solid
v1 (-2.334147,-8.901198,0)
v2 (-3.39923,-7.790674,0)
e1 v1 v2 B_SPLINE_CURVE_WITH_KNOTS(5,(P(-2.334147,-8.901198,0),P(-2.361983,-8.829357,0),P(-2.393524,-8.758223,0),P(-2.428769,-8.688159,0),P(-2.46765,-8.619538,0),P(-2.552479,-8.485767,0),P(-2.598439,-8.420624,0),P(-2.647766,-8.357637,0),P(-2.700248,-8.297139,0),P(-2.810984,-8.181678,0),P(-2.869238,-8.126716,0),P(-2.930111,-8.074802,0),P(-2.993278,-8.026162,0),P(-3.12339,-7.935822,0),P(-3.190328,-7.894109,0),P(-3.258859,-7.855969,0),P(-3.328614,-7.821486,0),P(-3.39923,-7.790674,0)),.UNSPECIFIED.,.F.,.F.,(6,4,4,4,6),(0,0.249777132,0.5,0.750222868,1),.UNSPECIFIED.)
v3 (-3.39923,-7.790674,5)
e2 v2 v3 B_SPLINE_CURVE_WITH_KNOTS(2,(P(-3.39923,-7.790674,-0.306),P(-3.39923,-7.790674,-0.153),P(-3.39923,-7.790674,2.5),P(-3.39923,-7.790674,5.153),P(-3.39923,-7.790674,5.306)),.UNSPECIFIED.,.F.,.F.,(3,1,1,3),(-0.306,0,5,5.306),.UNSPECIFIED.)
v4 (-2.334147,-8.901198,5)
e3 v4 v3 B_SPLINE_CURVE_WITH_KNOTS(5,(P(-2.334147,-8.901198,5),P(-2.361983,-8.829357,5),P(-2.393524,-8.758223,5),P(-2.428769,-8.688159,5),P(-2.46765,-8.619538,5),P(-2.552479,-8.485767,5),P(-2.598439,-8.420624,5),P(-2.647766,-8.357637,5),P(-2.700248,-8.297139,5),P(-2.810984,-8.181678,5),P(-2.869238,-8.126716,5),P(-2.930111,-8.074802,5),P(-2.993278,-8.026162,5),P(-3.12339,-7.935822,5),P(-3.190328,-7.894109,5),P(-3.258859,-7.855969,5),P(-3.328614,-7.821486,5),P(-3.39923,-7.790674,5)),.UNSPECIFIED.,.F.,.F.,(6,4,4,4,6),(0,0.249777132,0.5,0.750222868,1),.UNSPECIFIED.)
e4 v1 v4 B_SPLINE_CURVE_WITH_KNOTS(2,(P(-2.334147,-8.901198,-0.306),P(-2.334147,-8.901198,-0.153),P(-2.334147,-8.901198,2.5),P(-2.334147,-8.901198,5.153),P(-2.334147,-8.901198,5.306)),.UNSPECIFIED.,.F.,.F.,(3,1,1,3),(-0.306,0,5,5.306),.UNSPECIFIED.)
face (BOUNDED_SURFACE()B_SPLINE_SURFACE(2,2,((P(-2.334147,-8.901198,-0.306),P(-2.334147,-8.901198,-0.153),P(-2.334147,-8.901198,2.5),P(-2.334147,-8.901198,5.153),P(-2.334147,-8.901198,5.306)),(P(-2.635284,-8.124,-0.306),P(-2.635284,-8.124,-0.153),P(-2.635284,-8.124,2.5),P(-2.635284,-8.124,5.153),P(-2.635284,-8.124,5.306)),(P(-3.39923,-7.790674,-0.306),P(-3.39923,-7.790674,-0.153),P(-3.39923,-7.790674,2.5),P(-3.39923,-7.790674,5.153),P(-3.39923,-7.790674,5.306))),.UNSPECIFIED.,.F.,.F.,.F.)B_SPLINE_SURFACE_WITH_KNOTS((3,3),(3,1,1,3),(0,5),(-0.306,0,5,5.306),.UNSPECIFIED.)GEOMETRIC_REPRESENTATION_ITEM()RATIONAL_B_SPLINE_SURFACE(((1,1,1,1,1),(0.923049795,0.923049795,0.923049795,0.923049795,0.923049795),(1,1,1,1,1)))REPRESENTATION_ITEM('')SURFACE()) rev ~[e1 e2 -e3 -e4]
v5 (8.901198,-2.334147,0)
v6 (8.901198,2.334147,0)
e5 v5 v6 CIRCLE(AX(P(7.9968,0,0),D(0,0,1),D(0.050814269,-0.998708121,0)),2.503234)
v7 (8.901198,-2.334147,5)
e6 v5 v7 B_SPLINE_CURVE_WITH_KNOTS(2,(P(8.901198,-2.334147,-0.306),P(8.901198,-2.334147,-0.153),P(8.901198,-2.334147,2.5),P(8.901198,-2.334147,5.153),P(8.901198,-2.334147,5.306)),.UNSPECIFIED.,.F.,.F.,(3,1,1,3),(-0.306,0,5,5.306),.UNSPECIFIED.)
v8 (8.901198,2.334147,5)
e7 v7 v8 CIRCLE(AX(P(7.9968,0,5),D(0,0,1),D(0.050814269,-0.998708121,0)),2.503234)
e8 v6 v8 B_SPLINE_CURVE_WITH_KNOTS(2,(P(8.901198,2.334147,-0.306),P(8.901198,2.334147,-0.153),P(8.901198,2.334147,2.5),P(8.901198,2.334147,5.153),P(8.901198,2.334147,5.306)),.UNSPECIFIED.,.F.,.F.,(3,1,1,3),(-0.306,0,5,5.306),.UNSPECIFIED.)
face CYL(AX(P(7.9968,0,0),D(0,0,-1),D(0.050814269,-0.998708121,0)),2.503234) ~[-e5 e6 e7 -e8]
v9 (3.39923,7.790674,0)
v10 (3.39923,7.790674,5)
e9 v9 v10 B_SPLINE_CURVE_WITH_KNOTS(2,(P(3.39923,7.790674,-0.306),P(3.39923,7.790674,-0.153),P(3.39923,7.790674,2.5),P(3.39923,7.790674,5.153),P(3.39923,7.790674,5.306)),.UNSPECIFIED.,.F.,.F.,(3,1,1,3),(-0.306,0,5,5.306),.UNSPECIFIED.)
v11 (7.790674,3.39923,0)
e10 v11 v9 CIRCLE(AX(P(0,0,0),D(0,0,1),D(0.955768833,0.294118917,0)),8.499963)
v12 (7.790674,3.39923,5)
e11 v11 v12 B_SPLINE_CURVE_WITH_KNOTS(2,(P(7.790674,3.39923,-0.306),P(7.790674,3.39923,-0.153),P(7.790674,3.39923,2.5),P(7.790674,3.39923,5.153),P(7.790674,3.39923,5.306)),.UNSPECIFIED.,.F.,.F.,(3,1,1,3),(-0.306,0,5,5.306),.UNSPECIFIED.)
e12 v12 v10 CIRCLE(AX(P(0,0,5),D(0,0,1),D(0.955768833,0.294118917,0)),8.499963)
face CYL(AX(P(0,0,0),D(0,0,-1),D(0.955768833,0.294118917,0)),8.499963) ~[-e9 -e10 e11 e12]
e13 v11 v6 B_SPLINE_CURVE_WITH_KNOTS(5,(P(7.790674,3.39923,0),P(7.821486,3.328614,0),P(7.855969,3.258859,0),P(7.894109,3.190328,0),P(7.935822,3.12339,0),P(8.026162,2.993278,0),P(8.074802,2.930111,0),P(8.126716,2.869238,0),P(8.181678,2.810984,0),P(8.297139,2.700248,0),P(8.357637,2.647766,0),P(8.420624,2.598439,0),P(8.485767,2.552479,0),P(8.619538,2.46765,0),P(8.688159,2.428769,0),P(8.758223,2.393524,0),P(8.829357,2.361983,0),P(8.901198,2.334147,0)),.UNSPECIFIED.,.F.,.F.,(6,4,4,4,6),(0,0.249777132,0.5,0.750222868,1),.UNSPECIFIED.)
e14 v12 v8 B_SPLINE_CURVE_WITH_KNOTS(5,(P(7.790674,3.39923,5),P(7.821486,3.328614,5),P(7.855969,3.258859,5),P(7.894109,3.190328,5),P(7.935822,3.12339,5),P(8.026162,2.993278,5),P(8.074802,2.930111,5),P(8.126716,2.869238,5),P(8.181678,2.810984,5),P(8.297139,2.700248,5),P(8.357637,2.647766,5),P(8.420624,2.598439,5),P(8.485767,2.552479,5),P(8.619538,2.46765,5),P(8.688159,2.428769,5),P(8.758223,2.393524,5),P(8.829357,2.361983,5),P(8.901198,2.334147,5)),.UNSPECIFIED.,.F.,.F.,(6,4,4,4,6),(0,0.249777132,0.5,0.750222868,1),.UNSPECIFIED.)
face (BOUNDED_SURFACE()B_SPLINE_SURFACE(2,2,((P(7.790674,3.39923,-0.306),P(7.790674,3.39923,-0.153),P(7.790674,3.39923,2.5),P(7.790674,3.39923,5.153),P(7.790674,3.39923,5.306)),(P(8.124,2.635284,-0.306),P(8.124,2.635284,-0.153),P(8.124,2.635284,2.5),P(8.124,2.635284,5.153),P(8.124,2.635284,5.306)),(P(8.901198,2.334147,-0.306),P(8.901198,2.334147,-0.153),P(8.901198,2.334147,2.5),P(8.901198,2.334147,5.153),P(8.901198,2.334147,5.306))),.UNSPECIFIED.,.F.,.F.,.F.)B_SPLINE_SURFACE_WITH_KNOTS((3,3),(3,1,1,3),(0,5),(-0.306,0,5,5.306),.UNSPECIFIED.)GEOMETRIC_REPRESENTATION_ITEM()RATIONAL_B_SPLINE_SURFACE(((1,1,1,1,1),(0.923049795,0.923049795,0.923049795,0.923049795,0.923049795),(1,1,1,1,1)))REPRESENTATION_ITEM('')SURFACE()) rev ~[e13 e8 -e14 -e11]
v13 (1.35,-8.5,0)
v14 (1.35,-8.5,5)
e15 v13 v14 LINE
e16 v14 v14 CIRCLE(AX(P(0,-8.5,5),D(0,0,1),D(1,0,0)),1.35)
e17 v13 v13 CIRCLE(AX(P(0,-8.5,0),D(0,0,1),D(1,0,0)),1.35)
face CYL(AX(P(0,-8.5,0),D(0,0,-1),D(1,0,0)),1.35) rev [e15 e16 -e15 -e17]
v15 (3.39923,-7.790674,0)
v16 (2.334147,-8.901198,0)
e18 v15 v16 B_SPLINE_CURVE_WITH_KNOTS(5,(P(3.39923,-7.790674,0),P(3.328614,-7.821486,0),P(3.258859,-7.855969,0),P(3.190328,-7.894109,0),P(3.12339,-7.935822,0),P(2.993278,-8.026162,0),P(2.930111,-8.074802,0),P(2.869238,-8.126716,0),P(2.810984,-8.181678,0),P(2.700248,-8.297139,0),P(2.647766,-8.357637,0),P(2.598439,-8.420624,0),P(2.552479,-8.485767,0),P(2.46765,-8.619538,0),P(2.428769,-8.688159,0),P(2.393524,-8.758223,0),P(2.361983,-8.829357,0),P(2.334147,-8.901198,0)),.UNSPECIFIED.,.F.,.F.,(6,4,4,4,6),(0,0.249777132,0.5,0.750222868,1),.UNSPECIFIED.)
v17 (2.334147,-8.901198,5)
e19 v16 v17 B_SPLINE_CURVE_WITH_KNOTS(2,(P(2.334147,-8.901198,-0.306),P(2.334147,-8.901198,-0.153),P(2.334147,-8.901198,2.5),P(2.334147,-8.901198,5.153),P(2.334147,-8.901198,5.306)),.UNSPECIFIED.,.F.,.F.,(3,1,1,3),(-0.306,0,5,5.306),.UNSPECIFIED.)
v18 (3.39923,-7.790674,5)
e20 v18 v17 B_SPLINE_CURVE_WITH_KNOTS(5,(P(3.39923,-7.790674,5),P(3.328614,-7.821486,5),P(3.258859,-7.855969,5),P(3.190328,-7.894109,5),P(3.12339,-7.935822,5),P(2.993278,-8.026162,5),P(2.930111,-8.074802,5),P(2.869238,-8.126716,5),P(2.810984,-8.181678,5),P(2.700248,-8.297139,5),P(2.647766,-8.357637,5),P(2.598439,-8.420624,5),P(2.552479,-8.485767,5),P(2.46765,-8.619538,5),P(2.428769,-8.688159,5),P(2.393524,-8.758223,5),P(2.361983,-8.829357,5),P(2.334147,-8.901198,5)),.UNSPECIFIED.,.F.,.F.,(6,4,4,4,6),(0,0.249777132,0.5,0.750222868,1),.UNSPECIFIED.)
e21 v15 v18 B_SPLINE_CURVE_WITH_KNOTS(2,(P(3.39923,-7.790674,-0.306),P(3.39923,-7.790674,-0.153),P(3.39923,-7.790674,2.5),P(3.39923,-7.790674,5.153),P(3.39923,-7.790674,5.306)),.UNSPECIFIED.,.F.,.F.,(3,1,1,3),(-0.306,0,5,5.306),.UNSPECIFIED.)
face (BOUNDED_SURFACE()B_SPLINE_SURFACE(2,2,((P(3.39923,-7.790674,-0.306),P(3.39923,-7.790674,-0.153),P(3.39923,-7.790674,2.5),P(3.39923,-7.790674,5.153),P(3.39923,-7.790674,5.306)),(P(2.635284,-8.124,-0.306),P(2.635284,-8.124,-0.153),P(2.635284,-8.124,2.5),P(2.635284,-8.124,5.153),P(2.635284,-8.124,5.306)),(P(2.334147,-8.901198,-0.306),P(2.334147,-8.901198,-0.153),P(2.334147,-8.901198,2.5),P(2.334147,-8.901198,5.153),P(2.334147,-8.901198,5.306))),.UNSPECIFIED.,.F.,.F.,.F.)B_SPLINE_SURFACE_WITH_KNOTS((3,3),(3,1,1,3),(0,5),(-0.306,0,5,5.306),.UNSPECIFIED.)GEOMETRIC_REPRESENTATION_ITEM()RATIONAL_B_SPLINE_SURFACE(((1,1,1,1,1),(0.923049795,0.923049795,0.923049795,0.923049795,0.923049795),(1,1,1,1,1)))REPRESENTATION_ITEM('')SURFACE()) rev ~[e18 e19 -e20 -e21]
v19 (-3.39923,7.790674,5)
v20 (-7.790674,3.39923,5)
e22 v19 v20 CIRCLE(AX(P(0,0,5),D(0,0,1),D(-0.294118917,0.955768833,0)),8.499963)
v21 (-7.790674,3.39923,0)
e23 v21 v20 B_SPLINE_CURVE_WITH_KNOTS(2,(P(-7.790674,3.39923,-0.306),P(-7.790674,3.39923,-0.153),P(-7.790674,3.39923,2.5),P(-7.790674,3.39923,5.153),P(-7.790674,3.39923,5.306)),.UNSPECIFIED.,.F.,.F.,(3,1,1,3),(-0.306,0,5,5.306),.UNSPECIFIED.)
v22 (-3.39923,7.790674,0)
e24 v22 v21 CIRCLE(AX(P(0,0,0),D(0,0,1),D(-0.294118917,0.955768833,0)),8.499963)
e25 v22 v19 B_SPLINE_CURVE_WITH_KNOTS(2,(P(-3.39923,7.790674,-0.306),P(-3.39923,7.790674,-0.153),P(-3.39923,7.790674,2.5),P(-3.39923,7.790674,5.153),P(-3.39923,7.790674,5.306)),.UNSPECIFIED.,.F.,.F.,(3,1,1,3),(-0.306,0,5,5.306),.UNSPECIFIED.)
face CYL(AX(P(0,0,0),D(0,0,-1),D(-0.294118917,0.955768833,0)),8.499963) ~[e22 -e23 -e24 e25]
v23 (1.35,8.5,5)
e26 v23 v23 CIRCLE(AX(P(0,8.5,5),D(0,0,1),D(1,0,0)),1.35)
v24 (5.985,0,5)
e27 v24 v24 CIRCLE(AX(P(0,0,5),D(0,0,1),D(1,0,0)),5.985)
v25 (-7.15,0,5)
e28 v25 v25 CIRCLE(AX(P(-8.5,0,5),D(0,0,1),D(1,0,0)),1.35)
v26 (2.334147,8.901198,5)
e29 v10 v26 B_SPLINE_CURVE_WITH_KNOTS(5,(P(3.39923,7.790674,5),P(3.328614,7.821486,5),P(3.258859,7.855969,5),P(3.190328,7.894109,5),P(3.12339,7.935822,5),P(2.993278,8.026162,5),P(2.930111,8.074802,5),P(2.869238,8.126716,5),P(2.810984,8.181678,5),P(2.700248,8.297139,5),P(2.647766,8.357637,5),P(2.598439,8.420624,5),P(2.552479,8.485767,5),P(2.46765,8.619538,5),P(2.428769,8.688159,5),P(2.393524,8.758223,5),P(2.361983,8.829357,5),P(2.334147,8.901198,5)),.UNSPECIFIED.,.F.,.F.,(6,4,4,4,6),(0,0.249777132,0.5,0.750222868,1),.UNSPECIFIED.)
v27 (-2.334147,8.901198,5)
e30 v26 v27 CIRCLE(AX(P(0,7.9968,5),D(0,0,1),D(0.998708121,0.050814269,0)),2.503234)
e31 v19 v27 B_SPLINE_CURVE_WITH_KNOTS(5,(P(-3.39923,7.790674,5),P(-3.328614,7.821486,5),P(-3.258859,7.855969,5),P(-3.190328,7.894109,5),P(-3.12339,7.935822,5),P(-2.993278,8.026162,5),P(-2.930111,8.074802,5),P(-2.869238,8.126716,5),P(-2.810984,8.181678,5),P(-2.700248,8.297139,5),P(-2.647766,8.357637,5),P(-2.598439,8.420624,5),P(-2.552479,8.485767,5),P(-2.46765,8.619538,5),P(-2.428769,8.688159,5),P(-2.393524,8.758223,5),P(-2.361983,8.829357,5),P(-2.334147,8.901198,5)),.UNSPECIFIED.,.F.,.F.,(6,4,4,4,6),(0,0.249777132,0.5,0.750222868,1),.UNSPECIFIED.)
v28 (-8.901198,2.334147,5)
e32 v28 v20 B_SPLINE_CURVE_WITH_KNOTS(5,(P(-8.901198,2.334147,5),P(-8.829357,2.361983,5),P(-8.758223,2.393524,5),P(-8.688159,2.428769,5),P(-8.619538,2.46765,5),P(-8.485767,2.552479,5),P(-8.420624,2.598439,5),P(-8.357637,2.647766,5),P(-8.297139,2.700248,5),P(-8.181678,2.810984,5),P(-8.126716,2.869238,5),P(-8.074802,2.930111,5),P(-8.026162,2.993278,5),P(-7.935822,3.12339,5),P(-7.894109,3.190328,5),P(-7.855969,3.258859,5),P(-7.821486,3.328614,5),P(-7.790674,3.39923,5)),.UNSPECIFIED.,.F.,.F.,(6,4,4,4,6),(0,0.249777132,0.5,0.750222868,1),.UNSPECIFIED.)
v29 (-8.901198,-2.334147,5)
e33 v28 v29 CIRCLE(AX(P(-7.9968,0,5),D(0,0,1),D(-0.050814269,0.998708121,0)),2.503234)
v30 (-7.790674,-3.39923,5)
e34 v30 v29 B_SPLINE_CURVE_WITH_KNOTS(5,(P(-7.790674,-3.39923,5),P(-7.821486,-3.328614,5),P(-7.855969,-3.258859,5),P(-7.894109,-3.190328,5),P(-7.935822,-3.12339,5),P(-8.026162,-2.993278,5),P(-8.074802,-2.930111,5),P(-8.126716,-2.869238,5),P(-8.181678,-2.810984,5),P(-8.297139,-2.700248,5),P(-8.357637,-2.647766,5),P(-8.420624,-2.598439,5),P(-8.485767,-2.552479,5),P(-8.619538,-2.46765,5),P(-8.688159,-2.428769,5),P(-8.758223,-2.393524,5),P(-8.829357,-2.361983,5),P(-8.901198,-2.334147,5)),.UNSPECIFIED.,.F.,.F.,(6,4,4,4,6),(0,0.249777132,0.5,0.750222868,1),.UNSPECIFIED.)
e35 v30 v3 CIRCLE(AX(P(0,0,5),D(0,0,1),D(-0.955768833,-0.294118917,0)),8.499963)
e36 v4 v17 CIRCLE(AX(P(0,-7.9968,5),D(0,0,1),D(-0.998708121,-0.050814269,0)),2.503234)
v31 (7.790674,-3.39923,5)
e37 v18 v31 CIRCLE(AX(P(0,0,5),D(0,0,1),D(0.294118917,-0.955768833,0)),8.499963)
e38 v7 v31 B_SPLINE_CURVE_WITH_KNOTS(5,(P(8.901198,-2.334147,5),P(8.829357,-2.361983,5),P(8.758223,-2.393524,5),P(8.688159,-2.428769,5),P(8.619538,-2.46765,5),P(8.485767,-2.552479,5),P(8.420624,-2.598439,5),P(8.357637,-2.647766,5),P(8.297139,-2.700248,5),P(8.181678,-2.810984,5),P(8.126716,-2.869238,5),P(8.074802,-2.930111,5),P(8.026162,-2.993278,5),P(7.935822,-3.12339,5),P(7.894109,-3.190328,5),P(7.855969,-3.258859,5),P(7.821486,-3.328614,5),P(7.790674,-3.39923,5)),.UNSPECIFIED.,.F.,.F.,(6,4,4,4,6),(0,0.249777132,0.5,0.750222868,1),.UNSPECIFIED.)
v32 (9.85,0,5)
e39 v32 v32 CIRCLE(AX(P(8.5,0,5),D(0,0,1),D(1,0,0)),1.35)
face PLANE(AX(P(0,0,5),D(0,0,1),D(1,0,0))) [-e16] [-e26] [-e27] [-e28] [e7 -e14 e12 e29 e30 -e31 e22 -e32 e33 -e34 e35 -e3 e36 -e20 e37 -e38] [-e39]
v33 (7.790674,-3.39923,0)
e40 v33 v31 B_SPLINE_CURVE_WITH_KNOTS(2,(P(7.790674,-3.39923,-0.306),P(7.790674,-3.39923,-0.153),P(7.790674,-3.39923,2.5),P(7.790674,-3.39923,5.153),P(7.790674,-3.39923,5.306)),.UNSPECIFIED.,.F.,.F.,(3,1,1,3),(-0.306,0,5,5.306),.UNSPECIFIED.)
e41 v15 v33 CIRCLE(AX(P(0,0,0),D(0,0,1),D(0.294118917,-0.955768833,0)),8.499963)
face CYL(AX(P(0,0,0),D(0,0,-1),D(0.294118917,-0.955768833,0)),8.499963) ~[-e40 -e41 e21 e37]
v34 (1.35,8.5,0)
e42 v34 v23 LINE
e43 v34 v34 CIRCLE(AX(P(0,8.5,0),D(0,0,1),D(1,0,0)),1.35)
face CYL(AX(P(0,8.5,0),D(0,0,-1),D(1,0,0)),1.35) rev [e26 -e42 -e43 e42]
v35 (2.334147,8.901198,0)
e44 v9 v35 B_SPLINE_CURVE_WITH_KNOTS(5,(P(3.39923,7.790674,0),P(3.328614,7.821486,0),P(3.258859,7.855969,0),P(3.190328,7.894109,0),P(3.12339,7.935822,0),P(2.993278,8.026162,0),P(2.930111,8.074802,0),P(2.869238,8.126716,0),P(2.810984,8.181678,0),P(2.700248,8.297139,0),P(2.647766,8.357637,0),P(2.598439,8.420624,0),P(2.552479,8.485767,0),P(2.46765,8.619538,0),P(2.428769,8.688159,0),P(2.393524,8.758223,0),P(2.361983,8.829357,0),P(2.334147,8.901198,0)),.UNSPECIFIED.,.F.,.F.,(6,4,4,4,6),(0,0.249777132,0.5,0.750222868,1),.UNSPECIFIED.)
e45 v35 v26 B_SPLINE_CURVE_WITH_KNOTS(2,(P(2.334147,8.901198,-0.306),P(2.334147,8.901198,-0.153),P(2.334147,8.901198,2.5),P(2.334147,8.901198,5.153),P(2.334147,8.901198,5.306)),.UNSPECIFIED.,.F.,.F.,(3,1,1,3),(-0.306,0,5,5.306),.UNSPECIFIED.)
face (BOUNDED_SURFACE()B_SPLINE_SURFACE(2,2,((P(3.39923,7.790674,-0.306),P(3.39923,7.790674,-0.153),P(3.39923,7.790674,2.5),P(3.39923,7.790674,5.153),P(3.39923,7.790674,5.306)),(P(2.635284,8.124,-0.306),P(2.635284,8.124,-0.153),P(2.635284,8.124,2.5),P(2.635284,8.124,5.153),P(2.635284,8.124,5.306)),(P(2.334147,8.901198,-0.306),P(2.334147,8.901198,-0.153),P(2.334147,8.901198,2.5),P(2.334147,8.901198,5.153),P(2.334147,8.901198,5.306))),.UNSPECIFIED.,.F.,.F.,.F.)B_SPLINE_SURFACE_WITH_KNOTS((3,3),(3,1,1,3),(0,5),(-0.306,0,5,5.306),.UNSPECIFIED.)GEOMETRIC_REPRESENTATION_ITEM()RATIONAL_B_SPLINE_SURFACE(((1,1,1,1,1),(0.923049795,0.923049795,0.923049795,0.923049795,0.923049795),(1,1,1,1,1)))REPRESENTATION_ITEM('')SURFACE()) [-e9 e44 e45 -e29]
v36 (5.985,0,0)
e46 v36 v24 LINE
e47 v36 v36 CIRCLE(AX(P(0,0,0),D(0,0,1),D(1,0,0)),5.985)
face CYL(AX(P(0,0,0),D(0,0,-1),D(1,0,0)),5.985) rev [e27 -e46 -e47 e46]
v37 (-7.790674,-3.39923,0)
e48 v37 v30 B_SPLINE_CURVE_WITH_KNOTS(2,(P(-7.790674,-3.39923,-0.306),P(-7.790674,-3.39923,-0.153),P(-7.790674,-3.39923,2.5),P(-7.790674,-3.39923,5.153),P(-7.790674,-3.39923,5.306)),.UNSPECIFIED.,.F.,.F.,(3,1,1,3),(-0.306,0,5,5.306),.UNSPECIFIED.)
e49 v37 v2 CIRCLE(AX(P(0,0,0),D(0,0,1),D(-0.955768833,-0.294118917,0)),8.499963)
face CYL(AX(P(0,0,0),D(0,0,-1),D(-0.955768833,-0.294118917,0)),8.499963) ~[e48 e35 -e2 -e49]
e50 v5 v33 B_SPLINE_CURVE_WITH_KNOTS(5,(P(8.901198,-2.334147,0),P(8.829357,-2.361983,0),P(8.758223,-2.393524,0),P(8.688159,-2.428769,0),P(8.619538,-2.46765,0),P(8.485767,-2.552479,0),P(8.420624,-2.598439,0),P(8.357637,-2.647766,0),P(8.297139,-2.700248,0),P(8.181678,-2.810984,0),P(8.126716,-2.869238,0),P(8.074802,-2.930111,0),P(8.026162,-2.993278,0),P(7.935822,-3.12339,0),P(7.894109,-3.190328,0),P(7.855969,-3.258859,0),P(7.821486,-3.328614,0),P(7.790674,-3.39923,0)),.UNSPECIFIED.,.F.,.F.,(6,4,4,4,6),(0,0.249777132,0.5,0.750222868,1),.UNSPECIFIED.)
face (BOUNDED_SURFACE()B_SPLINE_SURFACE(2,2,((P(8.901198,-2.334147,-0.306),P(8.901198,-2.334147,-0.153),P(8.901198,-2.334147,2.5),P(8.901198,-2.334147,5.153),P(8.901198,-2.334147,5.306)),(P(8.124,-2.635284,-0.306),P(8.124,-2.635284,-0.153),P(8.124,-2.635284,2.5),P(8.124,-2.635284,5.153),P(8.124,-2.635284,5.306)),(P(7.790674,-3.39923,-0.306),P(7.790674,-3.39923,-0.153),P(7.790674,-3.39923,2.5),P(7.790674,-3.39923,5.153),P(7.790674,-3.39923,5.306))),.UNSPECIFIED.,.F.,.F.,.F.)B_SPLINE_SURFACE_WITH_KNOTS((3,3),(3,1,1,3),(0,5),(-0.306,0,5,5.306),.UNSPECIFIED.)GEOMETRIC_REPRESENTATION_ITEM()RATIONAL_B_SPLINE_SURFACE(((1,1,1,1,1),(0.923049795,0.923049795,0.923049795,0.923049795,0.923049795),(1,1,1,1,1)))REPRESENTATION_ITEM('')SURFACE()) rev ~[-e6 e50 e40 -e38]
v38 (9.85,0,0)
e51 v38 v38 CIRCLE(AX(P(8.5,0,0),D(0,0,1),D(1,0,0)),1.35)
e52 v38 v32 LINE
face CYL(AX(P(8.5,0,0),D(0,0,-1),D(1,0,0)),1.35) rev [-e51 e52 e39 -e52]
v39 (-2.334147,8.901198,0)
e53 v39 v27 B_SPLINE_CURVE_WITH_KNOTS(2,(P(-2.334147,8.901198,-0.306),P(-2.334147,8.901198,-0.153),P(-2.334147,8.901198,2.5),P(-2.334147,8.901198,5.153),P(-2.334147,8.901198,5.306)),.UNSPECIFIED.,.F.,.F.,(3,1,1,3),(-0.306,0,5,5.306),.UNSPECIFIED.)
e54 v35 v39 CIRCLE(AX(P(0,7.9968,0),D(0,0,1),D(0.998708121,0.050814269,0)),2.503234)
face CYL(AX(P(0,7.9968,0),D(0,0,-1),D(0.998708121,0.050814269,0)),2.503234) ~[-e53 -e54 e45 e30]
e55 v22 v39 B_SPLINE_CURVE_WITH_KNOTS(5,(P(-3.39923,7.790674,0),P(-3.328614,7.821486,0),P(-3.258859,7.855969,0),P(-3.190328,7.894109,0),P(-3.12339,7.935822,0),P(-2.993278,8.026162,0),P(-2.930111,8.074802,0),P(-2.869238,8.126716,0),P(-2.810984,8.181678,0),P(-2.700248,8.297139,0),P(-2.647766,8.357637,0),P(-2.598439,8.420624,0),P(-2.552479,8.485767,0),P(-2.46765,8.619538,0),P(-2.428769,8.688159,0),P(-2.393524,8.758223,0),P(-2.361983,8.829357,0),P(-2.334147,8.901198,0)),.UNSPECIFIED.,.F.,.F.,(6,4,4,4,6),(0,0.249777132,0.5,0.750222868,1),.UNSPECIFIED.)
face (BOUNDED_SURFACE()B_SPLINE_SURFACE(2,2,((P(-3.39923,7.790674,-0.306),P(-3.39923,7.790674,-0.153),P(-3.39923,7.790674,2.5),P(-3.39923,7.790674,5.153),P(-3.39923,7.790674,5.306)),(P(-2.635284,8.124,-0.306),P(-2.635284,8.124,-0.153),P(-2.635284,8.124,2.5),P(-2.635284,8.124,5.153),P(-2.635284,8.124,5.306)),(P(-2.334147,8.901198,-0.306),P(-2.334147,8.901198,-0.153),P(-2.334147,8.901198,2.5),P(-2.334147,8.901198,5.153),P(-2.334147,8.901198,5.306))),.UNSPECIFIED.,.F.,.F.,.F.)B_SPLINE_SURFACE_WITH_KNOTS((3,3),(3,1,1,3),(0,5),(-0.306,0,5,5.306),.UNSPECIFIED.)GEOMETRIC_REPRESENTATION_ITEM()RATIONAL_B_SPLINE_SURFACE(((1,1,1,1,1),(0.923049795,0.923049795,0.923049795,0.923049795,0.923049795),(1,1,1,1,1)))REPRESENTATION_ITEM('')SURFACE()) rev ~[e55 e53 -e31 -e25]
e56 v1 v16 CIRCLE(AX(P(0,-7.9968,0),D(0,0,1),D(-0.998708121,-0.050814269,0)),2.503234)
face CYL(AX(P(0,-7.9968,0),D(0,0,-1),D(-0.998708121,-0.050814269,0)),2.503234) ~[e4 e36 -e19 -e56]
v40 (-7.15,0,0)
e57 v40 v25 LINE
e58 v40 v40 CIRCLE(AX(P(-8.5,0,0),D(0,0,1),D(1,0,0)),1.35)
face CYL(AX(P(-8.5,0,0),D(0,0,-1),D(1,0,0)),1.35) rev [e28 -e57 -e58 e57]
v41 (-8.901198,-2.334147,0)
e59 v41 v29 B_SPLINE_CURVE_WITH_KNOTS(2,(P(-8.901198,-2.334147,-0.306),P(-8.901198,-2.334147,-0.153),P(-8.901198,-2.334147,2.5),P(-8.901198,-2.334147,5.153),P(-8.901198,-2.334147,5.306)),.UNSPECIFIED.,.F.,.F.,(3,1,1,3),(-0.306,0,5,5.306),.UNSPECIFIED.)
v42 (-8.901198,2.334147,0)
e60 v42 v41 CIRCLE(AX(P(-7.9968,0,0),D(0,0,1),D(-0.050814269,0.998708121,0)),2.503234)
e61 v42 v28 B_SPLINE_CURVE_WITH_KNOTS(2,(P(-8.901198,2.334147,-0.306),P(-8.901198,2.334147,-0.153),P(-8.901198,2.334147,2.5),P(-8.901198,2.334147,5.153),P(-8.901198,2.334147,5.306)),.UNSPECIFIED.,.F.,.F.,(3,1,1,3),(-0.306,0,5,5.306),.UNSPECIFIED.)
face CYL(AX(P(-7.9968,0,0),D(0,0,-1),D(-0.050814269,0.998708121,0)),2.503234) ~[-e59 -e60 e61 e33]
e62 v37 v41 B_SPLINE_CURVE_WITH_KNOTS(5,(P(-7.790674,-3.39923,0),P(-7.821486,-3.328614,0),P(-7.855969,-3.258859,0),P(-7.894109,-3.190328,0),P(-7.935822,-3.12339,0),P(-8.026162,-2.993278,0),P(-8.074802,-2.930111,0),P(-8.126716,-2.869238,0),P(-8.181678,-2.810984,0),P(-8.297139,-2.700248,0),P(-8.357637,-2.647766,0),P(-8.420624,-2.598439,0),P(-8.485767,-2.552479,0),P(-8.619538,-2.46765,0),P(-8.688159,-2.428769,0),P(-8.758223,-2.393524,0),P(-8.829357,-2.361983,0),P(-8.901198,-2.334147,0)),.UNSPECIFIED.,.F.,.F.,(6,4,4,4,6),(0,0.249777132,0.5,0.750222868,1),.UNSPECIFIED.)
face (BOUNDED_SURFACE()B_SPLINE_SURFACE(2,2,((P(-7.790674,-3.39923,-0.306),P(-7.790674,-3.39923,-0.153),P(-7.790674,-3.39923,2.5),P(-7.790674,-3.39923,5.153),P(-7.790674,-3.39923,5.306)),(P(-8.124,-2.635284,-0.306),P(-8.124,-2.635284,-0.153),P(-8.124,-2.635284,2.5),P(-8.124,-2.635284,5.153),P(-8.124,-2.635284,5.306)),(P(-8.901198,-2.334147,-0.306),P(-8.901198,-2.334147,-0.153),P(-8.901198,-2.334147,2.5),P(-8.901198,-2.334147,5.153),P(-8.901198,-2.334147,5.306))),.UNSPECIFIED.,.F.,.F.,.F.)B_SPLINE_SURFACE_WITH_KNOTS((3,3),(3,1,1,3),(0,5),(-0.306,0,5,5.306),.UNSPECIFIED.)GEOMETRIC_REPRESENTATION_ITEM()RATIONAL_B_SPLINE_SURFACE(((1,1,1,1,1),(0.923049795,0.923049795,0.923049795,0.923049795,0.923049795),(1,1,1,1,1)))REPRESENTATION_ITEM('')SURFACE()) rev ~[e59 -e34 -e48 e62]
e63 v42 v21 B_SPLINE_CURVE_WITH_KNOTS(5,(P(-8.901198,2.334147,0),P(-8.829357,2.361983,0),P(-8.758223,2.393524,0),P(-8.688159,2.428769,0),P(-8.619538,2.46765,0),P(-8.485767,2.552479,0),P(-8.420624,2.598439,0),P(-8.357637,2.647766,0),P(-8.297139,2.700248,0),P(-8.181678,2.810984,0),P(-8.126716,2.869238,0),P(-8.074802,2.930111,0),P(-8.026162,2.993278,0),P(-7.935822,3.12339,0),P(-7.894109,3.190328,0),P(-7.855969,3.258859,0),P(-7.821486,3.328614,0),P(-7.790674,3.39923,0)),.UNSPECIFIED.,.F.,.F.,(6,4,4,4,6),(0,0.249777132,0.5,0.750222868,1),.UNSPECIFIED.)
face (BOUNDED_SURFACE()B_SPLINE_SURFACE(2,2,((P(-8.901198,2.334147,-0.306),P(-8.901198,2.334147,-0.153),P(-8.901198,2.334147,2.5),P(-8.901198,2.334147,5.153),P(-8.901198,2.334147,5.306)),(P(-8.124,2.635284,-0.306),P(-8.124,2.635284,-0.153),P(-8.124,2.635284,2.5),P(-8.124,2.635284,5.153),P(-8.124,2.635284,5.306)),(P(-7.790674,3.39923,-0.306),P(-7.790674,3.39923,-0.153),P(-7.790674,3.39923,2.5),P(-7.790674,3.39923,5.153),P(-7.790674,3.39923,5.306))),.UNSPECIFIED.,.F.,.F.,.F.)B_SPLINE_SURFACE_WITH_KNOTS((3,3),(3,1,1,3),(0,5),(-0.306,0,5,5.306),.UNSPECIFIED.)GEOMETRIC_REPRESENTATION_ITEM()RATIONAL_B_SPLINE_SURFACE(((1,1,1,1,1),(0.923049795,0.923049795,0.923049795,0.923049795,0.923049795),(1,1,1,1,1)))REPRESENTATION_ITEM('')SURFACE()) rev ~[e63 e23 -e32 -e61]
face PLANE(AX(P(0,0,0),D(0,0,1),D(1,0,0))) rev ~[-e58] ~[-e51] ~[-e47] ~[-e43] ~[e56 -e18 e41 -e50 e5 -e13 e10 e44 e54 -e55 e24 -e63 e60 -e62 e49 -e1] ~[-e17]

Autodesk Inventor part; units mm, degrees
ref_plane "YZ Plane" through (0, 0, 0) normal (1, 0, 0) x (0, 1, 0)
ref_plane "XZ Plane" through (0, 0, 0) normal (0, 1, 0) x (-1, 0, 0)
ref_plane "XY Plane" through (0, 0, 0) normal (0, 0, 1) x (1, 0, 0)
sketch "スケッチ1" plane through (0, 0, 0) normal (0, 0, 1) x (1, 0, 0)
  circle A0 centre (0, 0) radius 5.985
  circle A1 centre (0, 8.5) radius 1.35
  line L0 (0, 8.5) -> (0, 0) construction
  circle A2 centre (0, 0) radius 8.5 construction
  circle A3 centre (0, 0) radius 10.5 construction
  arc A4 (2.5, 8.124) -> (-2.5, 8.124) centre (0, 7.9968) ccw
  arc A5 (-8.124, 2.5) -> (-8.124, -2.5) centre (-7.9968, 0) ccw
  circle A6 centre (-8.5, 0) radius 1.35
  arc A7 (-2.5, -8.124) -> (2.5, -8.124) centre (0, -7.9968) ccw
  circle A8 centre (0, -8.5) radius 1.35
  arc A9 (8.124, -2.5) -> (8.124, 2.5) centre (7.9968, 0) ccw
  circle A10 centre (8.5, 0) radius 1.35
  arc A11 (-2.5, 8.124) -> (-8.124, 2.5) centre (0, 0) ccw
  arc A12 (-8.124, -2.5) -> (-2.5, -8.124) centre (0, 0) ccw
  arc A13 (2.5, -8.124) -> (8.124, -2.5) centre (0, 0) ccw
  arc A14 (8.124, 2.5) -> (2.5, 8.124) centre (0, 0) ccw
  point P0 (0, 10.5)
  point P1 (-10.5, 0)
  point P2 (0, -10.5)
  point P3 (10.5, 0)
  dimension "d39" = 21
  dimension "d1" = 11.97
  dimension "d2" = 2.7
  dimension "d5" = 17
  dimension "d40" = 5
  dimension "d43" = 360
extrude "押し出し1" add sketch "スケッチ1" along normal blind 5
fillet "フィレット1" radius 2 8 edges at (-8.124, -2.5, 2.5) (-2.5, -8.124, 2.5) (2.5, -8.124, 2.5) (8.124, -2.5, 2.5) (8.124, 2.5, 2.5) (2.5, 8.124, 2.5) (-2.5, 8.124, 2.5) (-8.124, 2.5, 2.5)
properties part number "Knee_clamp" material "アルミニウム 2014-T4"
